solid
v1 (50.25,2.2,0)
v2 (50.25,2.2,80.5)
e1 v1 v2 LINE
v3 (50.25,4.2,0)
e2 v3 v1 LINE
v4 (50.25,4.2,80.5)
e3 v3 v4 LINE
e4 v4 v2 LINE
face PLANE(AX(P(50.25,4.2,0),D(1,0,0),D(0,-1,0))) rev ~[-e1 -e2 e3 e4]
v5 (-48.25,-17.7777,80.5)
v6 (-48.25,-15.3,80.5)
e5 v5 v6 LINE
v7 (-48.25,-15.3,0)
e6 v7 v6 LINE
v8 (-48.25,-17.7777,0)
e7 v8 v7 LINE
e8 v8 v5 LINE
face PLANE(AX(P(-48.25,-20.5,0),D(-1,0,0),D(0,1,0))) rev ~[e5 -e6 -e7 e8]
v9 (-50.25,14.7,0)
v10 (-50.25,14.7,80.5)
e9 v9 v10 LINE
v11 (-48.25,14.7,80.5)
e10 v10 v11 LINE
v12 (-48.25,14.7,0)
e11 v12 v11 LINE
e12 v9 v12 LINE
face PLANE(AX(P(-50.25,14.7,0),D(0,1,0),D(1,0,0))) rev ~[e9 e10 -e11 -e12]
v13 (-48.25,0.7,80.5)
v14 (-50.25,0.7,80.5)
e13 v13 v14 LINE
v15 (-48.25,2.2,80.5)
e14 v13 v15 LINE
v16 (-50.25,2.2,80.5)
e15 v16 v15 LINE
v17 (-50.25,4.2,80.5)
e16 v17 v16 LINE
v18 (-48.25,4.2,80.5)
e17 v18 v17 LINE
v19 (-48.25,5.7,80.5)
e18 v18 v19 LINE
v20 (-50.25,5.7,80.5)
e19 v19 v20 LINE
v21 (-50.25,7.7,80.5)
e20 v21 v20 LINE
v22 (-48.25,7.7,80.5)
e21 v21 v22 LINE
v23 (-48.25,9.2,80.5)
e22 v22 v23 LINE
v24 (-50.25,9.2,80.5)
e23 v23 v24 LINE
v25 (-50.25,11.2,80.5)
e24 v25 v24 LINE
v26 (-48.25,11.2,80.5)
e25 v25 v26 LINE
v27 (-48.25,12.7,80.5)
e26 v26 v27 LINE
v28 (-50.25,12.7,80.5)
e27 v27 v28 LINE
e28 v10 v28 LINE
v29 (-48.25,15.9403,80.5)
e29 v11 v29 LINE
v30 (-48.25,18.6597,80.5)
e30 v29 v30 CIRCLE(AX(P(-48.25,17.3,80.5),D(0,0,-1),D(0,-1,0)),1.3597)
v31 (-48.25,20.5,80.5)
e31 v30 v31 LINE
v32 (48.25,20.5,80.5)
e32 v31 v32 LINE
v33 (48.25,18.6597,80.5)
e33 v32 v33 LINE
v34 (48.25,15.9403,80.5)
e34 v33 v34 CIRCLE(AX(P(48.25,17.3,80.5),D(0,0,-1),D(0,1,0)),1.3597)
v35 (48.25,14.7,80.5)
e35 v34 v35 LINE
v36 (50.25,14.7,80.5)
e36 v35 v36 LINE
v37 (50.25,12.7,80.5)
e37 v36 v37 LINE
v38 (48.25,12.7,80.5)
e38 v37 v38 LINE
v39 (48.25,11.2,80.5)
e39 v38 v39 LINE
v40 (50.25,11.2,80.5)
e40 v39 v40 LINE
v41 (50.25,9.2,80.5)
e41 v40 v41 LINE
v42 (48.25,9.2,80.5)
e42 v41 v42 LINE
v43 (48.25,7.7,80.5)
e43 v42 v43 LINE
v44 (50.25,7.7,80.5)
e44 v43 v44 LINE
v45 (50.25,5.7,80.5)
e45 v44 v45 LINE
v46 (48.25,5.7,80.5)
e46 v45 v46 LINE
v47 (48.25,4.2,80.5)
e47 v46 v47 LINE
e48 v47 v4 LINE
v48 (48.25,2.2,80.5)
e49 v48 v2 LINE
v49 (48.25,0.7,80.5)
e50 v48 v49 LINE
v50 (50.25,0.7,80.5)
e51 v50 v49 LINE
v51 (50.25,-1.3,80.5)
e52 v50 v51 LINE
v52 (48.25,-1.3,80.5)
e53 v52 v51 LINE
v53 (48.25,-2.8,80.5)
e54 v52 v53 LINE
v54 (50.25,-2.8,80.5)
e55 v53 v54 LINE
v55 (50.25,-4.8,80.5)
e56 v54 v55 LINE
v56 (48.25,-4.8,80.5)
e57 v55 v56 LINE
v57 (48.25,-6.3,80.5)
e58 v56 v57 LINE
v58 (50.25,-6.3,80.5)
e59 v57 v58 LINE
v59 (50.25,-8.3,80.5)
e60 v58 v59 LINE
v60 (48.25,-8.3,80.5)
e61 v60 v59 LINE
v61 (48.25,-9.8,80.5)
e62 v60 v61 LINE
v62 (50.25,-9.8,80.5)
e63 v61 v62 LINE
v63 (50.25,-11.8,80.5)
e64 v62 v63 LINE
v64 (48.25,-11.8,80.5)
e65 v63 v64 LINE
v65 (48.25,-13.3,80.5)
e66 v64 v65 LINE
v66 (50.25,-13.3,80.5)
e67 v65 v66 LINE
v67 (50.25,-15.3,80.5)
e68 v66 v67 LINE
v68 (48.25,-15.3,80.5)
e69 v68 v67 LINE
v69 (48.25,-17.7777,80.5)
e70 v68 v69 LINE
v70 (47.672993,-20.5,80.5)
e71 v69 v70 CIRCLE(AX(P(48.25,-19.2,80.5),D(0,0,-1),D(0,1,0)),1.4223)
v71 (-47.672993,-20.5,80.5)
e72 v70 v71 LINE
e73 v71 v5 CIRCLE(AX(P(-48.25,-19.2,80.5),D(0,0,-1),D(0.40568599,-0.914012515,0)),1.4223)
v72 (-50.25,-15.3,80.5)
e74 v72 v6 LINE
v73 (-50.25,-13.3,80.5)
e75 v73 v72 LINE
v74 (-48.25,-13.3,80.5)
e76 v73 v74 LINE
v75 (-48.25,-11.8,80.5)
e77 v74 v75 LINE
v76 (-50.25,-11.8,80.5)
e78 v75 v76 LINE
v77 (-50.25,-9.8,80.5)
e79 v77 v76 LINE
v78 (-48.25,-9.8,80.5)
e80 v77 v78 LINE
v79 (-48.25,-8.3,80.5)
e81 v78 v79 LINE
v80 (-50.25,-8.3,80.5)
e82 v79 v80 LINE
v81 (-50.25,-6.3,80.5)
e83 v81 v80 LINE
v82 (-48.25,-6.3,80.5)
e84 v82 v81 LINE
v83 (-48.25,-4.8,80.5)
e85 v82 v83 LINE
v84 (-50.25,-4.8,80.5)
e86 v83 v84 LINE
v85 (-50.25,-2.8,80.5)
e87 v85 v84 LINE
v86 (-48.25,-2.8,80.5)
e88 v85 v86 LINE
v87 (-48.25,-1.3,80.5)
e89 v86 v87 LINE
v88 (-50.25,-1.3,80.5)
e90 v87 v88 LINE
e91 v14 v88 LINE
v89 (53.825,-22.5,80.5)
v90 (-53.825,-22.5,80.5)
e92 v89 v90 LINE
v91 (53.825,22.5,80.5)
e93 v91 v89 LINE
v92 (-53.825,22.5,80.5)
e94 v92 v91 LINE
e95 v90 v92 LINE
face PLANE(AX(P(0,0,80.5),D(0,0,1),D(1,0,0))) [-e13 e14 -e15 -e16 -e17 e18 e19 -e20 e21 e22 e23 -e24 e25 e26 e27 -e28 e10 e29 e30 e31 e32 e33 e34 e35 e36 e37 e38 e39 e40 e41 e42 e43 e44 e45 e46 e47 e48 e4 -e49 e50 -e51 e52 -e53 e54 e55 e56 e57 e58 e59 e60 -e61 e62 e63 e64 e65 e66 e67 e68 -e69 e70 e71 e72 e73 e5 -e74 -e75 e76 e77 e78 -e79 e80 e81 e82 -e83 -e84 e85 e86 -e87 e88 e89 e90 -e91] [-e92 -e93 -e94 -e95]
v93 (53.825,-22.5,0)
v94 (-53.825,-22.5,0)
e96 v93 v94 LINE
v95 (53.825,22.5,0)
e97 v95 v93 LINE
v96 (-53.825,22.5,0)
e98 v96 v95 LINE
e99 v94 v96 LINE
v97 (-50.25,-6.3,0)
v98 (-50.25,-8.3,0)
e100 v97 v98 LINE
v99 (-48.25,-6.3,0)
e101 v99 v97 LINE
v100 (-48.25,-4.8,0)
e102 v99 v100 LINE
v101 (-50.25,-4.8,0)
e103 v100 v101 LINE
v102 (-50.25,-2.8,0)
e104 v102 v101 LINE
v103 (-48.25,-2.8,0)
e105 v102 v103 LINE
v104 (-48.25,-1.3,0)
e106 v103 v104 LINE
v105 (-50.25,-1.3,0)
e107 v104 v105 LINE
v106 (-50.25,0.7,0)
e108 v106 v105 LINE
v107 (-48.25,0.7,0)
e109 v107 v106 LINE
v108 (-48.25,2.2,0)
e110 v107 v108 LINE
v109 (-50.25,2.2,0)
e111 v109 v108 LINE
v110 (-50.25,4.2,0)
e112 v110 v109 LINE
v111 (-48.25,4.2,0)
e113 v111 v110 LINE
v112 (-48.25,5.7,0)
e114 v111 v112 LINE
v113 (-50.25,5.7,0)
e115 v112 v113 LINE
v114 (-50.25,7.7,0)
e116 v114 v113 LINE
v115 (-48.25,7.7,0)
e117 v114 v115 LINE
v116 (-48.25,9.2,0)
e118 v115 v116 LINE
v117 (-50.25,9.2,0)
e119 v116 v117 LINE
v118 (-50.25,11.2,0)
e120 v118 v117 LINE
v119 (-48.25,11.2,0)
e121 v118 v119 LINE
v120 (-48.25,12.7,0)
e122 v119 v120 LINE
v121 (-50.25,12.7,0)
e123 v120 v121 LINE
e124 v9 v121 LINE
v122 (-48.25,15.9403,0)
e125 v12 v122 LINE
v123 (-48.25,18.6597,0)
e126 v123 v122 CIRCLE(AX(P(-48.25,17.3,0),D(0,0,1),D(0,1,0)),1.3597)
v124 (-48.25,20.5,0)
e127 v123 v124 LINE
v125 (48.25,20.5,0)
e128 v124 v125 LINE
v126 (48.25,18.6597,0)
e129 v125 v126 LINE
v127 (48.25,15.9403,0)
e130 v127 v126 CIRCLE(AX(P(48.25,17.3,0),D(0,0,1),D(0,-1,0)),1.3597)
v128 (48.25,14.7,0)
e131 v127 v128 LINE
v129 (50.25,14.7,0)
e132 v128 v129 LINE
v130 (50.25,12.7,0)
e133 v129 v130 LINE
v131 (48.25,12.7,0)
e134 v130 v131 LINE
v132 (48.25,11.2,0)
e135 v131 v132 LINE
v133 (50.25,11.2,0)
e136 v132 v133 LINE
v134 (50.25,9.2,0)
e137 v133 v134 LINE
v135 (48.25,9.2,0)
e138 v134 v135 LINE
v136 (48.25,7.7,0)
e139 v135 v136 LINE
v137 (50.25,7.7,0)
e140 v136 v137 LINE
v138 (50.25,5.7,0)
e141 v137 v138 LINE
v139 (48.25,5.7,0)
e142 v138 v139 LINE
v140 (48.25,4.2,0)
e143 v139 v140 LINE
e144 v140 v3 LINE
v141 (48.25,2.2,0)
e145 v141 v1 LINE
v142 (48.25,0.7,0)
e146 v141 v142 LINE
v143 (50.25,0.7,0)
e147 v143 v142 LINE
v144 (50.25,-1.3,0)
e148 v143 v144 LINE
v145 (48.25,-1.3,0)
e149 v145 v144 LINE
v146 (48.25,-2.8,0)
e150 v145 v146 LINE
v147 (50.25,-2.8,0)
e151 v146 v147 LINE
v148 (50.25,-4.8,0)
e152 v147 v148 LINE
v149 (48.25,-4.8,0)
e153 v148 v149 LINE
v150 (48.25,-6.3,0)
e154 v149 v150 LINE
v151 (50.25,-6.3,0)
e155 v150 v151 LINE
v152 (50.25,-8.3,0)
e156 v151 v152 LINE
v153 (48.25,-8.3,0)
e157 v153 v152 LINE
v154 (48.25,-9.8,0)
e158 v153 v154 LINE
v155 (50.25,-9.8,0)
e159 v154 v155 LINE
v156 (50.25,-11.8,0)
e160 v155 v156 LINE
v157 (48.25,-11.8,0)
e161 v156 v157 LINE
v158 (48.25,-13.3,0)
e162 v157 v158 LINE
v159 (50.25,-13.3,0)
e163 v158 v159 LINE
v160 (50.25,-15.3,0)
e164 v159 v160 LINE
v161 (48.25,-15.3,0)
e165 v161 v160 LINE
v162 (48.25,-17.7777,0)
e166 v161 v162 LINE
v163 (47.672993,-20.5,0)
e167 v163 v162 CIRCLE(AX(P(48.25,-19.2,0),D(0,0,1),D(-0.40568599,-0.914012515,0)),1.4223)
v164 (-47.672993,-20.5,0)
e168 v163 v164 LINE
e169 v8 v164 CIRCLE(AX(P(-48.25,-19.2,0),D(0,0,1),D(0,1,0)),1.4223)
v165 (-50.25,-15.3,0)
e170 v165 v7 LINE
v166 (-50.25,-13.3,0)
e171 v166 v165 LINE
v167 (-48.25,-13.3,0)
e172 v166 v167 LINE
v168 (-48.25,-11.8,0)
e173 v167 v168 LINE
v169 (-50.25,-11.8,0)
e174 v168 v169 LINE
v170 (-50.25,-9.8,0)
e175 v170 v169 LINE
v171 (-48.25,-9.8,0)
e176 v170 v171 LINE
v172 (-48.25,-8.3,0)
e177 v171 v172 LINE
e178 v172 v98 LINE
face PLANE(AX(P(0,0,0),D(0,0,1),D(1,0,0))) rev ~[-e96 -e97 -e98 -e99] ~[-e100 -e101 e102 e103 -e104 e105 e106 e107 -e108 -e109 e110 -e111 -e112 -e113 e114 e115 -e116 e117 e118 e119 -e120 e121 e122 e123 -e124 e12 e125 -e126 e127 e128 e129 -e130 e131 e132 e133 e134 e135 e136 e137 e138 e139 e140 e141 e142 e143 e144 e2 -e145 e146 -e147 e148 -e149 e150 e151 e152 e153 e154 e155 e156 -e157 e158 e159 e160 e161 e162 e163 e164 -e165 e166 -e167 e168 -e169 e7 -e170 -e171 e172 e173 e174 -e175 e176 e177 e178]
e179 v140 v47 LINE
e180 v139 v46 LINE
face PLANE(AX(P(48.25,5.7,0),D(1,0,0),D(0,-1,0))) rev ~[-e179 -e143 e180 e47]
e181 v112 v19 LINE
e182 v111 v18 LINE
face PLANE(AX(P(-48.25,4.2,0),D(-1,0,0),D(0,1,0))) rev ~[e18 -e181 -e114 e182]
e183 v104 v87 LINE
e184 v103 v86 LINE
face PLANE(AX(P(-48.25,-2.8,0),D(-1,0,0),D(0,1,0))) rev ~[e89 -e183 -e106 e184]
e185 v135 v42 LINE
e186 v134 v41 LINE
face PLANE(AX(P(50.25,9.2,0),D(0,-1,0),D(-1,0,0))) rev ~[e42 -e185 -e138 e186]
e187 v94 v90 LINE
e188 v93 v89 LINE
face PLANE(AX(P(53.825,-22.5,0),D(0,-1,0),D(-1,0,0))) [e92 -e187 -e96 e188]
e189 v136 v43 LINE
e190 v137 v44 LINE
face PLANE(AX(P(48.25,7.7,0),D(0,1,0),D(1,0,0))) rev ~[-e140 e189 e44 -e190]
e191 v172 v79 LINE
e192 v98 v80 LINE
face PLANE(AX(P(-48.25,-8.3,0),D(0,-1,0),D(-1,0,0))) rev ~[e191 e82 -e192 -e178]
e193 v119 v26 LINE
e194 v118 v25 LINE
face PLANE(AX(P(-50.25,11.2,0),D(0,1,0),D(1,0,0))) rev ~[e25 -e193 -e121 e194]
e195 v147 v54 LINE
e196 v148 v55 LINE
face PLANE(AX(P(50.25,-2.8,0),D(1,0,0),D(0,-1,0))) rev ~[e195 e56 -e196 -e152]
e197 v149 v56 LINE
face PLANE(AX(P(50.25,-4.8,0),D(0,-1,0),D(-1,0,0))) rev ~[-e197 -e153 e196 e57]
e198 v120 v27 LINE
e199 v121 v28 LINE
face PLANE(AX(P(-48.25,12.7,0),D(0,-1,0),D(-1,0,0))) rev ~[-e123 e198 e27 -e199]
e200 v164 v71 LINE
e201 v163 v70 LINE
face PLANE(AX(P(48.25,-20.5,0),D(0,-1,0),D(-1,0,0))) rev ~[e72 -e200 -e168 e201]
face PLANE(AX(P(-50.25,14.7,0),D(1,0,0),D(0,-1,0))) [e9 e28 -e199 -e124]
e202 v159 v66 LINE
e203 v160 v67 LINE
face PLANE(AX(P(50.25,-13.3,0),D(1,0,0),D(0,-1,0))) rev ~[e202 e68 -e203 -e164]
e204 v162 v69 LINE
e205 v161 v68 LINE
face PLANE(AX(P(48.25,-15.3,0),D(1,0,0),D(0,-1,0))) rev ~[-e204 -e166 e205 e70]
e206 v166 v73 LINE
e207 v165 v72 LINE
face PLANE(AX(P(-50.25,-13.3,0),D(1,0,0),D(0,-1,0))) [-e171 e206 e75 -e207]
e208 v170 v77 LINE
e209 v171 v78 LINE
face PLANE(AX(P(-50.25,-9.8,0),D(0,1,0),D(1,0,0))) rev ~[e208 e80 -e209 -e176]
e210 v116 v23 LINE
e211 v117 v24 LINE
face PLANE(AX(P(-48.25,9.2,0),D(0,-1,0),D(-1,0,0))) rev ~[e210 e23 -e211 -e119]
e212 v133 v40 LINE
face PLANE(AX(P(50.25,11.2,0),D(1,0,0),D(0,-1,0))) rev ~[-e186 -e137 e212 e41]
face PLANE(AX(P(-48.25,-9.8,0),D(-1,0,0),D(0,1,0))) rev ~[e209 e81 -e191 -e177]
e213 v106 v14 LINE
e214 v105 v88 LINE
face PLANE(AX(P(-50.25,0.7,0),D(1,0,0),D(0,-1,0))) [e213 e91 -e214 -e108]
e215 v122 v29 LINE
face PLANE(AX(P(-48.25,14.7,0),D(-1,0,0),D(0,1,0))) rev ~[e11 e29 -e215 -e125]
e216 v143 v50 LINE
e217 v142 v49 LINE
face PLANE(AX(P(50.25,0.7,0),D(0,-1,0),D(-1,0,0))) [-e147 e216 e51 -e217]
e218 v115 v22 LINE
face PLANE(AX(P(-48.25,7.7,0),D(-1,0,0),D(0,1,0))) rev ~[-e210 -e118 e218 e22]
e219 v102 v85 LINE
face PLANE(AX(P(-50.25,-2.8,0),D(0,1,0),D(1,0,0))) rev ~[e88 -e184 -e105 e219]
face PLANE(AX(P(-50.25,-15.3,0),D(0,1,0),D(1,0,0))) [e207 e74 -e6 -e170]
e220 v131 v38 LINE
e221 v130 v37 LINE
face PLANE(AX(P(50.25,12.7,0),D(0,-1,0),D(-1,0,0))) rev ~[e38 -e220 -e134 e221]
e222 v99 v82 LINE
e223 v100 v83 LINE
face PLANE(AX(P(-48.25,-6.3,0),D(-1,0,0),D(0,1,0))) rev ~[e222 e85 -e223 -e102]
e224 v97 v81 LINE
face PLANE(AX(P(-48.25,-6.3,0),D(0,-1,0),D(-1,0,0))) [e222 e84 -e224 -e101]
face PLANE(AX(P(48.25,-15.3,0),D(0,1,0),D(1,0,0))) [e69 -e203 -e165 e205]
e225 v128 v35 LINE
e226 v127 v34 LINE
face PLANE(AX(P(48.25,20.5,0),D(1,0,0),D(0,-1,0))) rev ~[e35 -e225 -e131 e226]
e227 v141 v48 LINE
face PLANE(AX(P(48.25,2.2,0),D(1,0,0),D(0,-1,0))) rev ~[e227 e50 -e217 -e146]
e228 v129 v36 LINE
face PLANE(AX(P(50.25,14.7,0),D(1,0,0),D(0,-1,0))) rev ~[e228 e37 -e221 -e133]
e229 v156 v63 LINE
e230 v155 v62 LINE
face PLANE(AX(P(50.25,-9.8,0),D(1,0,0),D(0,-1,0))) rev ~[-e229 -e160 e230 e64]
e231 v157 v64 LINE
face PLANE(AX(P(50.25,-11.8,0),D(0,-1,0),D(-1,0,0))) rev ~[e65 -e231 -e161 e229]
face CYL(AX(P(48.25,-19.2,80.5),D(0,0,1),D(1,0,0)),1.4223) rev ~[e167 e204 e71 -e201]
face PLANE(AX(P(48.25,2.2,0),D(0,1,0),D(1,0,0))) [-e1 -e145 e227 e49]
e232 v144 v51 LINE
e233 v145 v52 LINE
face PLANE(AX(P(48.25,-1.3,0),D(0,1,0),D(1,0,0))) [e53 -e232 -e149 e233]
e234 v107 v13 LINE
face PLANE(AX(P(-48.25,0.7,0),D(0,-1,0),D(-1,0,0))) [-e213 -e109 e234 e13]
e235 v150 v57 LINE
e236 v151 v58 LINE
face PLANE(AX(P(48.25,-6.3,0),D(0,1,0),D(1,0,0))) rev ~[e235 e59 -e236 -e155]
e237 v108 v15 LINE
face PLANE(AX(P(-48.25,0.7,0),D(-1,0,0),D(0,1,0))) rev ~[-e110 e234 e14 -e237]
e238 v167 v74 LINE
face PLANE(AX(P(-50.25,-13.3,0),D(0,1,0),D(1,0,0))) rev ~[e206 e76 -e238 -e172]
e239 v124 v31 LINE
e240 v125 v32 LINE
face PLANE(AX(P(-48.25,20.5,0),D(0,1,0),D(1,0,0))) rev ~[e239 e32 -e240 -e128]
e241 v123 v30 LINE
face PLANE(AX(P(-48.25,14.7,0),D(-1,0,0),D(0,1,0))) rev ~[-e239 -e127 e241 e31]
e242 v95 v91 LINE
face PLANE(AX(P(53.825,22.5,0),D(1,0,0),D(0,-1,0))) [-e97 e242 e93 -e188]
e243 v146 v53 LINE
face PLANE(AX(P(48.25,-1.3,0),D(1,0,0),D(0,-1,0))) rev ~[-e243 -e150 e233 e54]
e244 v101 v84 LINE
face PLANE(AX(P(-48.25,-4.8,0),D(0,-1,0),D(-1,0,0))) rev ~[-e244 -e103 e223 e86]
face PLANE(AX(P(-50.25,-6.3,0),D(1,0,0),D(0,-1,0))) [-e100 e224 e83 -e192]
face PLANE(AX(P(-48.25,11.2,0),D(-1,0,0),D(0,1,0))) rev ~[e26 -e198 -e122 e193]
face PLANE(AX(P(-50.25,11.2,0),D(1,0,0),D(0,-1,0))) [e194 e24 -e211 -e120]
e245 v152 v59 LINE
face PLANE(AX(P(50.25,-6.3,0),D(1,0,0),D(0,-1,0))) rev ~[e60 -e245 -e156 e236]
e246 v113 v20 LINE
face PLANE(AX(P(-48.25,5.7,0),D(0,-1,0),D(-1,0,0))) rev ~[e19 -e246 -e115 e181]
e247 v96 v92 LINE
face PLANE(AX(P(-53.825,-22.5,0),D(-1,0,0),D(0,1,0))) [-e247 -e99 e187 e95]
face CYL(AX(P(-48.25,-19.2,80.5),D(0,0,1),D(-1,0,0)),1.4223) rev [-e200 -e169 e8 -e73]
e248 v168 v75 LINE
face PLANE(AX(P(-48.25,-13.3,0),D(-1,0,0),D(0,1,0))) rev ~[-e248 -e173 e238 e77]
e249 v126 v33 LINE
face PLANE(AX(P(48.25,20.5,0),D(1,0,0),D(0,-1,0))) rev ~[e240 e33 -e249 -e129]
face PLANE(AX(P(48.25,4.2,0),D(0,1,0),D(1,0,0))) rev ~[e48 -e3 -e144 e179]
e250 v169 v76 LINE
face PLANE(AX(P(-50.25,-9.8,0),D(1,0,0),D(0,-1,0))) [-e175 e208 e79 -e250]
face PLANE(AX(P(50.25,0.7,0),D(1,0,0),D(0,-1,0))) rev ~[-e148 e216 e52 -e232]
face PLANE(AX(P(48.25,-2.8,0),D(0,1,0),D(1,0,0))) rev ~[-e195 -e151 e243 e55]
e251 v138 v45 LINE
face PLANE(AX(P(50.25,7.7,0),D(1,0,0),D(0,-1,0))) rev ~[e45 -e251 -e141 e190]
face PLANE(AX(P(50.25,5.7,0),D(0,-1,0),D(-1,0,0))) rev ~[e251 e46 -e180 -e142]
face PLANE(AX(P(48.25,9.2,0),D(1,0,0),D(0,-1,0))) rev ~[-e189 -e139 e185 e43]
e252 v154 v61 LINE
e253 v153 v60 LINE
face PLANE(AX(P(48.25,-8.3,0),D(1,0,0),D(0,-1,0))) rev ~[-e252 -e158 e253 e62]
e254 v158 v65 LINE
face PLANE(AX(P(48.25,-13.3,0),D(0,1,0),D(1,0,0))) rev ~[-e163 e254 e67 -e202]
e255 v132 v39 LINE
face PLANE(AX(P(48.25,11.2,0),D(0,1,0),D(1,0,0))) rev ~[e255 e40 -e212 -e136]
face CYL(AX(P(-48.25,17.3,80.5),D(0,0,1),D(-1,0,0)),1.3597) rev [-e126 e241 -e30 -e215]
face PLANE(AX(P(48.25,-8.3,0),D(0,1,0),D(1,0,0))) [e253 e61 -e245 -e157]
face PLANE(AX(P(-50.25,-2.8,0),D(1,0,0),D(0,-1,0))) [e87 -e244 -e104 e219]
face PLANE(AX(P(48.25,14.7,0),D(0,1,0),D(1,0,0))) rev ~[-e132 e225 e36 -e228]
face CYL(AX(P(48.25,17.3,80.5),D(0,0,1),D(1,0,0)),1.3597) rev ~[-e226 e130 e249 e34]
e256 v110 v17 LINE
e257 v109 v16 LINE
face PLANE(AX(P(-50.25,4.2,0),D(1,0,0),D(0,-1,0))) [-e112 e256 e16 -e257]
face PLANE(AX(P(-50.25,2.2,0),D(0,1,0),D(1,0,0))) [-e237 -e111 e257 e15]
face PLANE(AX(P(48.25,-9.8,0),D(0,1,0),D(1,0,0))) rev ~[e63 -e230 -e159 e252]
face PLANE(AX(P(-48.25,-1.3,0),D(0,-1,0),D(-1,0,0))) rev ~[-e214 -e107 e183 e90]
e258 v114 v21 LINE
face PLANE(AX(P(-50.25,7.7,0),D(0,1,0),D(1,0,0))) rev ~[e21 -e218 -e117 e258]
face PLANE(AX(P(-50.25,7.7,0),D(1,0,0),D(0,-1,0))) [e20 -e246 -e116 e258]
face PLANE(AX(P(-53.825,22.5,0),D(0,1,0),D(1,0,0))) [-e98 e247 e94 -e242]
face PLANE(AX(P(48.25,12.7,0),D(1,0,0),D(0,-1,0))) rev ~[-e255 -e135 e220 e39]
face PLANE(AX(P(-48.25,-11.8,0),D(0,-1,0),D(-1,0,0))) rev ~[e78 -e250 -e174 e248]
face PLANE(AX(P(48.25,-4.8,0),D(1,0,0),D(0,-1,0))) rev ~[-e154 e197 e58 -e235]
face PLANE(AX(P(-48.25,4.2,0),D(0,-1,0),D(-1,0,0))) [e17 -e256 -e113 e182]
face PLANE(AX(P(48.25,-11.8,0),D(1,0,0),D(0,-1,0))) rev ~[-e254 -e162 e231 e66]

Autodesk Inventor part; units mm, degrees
ref_plane "YZ Plane" through (0, 0, 0) normal (1, 0, 0) x (0, 1, 0)
ref_plane "XZ Plane" through (0, 0, 0) normal (0, 1, 0) x (-1, 0, 0)
ref_plane "XY Plane" through (0, 0, 0) normal (0, 0, 1) x (1, 0, 0)
sketch "Sketch2" plane through (0, 0, 0) normal (0, 0, 1) x (1, 0, 0)
  line L0 (-53.825, 22.5) -> (53.825, 22.5)
  line L1 (53.825, 22.5) -> (53.825, -22.5)
  line L2 (53.825, -22.5) -> (-53.825, -22.5)
  line L3 (-53.825, -22.5) -> (-53.825, 22.5)
  line L4 (-48.25, 20.5) -> (48.25, 20.5)
  line L5 (48.25, -20.5) -> (-48.25, -20.5)
  line L6 (-50.25, 19.8997) -> (-50.25, -18.4997)
  line L7 (50.25, 19.3484) -> (50.25, -18.4997)
  line L8 (48.25, 14.7) -> (50.25, 14.7)
  line L9 (-50.25, 14.7) -> (-48.25, 14.7)
  line L10 (-50.25, -15.3) -> (-48.25, -15.3)
  line L11 (48.25, -15.3) -> (50.25, -15.3)
  line L12 (49.25, 14.7) -> (49.25, -15.3) construction
  line L13 (49.25, -0.3) -> (-49.8494, -0.3) construction
  line L14 (48.25, -1.3) -> (50.25, -1.3)
  line L15 (50.25, 0.7) -> (48.25, 0.7)
  line L16 (-48.25, 0.7) -> (-50.25, 0.7)
  line L17 (-48.25, -1.3) -> (-50.25, -1.3)
  line L18 (-50.25, 2.2) -> (-48.25, 2.2)
  line L19 (48.25, 2.2) -> (50.25, 2.2)
  line L20 (-50.25, -2.8) -> (-48.25, -2.8)
  line L21 (48.25, -2.8) -> (50.25, -2.8)
  line L22 (-48.25, 4.2) -> (-50.25, 4.2)
  line L23 (48.25, 4.2) -> (50.25, 4.2)
  line L24 (50.25, -4.8) -> (48.25, -4.8)
  line L25 (-48.25, -4.8) -> (-50.25, -4.8)
  line L26 (48.25, -1.3) -> (48.25, -2.8)
  line L27 (48.25, 2.2) -> (48.25, 0.7)
  line L28 (-48.25, -2.8) -> (-48.25, -1.3)
  line L29 (-48.25, 0.7) -> (-48.25, 2.2)
  line L30 (-48.25, -6.3) -> (-50.25, -6.3)
  line L31 (48.25, -6.3) -> (50.25, -6.3)
  line L32 (48.25, -8.3) -> (50.25, -8.3)
  line L33 (-48.25, -8.3) -> (-50.25, -8.3)
  line L34 (-50.25, -9.8) -> (-48.25, -9.8)
  line L35 (48.25, -9.8) -> (50.25, -9.8)
  line L36 (50.25, -11.8) -> (48.25, -11.8)
  line L37 (-48.25, -11.8) -> (-50.25, -11.8)
  line L38 (-50.25, -13.3) -> (-48.25, -13.3)
  line L39 (48.25, -13.3) -> (50.25, -13.3)
  line L40 (50.25, 5.7) -> (48.25, 5.7)
  line L41 (-48.25, 5.7) -> (-50.25, 5.7)
  line L42 (-50.25, 7.7) -> (-48.25, 7.7)
  line L43 (48.25, 7.7) -> (50.25, 7.7)
  line L44 (50.25, 9.2) -> (48.25, 9.2)
  line L45 (-48.25, 9.2) -> (-50.25, 9.2)
  line L46 (-50.25, 11.2) -> (-48.25, 11.2)
  line L47 (48.25, 11.2) -> (50.25, 11.2)
  line L48 (50.25, 12.7) -> (48.25, 12.7)
  line L49 (-48.25, 12.7) -> (-50.25, 12.7)
  line L50 (48.25, -4.8) -> (48.25, -6.3)
  line L51 (48.25, -8.3) -> (48.25, -9.8)
  line L52 (48.25, -11.8) -> (48.25, -13.3)
  line L53 (48.25, -15.3) -> (48.25, -20.5)
  line L54 (48.25, 5.7) -> (48.25, 4.2)
  line L55 (48.25, 9.2) -> (48.25, 7.7)
  line L56 (48.25, 20.5) -> (48.25, 14.7)
  line L57 (48.25, 12.7) -> (48.25, 11.2)
  line L58 (-48.25, -20.5) -> (-48.25, -15.3)
  line L59 (-48.25, -13.3) -> (-48.25, -11.8)
  line L60 (-48.25, -9.8) -> (-48.25, -8.3)
  line L61 (-48.25, -6.3) -> (-48.25, -4.8)
  line L62 (-48.25, 4.2) -> (-48.25, 5.7)
  line L63 (-48.25, 7.7) -> (-48.25, 9.2)
  line L64 (-48.25, 11.2) -> (-48.25, 12.7)
  line L65 (-48.25, 14.7) -> (-48.25, 20.5)
  point P0 (0, 0)
  dimension "d0" = 107.65
  dimension "d1" = 53.825
  dimension "d2" = 45
  dimension "d3" = 22.5
  dimension "d4" = 96.5
  dimension "d6" = 20.5
  dimension "d7" = 20.5
  dimension "d8" = 50.25
  dimension "d9" = 50.25
  dimension "d10" = 5.8
  dimension "d11" = 5.2
  dimension "d12" = 2
  dimension "d13" = 1
  dimension "d14" = 5
  dimension "d15" = 2.5
  dimension "d16" = 2
  dimension "d17" = 5
  dimension "d18" = 9
  dimension "d19" = 4.5
  dimension "d20" = 12
  dimension "d21" = 6
  dimension "d22" = 16
  dimension "d23" = 8
  dimension "d24" = 19
  dimension "d25" = 9.5
  dimension "d26" = 23
  dimension "d27" = 11.5
  dimension "d28" = 26
  dimension "d29" = 13
extrude "Extrusion1" add sketch "Sketch2" along normal blind 80.5 contours L0 L1 L2 L3 | L49 L64 L46 L6 | L7 L47 L57 L48 | L45 L63 L42 L6 | L7 L43 L55 L44 | L41 L62 L22 L6 | L7 L23 L54 L40 | L18 L29 L16 L6 | L7 L15 L27 L19 | L17 L28 L20 L6 | L7 L21 L26 L14 | L25 L61 L30 L6 | L7 L31 L50 L24 | L33 L60 L34 L6 | L7 L35 L51 L32 | L37 L59 L38 L6 | L7 L39 L52 L36
sketch "Sketch3" plane through (0, 0, 80.5) normal (0, 0, 1) x (1, 0, 0)
  circle A0 centre (48.25, -19.2) radius 1.4223
  circle A1 centre (48.25, 17.3) radius 1.3597
  point P0 (0, 0)
  dimension "d32" = 19.2
  dimension "d33" = 17.3
  dimension "d34" = 48.25
  dimension "d35" = 48.25
extrude "Extrusion2" cut sketch "Sketch3" against normal through all
mirror "Mirror1" about plane through (0, 0, 0) normal (1, 0, 0) of "Extrusion2"
properties part number "40mm_Case"
